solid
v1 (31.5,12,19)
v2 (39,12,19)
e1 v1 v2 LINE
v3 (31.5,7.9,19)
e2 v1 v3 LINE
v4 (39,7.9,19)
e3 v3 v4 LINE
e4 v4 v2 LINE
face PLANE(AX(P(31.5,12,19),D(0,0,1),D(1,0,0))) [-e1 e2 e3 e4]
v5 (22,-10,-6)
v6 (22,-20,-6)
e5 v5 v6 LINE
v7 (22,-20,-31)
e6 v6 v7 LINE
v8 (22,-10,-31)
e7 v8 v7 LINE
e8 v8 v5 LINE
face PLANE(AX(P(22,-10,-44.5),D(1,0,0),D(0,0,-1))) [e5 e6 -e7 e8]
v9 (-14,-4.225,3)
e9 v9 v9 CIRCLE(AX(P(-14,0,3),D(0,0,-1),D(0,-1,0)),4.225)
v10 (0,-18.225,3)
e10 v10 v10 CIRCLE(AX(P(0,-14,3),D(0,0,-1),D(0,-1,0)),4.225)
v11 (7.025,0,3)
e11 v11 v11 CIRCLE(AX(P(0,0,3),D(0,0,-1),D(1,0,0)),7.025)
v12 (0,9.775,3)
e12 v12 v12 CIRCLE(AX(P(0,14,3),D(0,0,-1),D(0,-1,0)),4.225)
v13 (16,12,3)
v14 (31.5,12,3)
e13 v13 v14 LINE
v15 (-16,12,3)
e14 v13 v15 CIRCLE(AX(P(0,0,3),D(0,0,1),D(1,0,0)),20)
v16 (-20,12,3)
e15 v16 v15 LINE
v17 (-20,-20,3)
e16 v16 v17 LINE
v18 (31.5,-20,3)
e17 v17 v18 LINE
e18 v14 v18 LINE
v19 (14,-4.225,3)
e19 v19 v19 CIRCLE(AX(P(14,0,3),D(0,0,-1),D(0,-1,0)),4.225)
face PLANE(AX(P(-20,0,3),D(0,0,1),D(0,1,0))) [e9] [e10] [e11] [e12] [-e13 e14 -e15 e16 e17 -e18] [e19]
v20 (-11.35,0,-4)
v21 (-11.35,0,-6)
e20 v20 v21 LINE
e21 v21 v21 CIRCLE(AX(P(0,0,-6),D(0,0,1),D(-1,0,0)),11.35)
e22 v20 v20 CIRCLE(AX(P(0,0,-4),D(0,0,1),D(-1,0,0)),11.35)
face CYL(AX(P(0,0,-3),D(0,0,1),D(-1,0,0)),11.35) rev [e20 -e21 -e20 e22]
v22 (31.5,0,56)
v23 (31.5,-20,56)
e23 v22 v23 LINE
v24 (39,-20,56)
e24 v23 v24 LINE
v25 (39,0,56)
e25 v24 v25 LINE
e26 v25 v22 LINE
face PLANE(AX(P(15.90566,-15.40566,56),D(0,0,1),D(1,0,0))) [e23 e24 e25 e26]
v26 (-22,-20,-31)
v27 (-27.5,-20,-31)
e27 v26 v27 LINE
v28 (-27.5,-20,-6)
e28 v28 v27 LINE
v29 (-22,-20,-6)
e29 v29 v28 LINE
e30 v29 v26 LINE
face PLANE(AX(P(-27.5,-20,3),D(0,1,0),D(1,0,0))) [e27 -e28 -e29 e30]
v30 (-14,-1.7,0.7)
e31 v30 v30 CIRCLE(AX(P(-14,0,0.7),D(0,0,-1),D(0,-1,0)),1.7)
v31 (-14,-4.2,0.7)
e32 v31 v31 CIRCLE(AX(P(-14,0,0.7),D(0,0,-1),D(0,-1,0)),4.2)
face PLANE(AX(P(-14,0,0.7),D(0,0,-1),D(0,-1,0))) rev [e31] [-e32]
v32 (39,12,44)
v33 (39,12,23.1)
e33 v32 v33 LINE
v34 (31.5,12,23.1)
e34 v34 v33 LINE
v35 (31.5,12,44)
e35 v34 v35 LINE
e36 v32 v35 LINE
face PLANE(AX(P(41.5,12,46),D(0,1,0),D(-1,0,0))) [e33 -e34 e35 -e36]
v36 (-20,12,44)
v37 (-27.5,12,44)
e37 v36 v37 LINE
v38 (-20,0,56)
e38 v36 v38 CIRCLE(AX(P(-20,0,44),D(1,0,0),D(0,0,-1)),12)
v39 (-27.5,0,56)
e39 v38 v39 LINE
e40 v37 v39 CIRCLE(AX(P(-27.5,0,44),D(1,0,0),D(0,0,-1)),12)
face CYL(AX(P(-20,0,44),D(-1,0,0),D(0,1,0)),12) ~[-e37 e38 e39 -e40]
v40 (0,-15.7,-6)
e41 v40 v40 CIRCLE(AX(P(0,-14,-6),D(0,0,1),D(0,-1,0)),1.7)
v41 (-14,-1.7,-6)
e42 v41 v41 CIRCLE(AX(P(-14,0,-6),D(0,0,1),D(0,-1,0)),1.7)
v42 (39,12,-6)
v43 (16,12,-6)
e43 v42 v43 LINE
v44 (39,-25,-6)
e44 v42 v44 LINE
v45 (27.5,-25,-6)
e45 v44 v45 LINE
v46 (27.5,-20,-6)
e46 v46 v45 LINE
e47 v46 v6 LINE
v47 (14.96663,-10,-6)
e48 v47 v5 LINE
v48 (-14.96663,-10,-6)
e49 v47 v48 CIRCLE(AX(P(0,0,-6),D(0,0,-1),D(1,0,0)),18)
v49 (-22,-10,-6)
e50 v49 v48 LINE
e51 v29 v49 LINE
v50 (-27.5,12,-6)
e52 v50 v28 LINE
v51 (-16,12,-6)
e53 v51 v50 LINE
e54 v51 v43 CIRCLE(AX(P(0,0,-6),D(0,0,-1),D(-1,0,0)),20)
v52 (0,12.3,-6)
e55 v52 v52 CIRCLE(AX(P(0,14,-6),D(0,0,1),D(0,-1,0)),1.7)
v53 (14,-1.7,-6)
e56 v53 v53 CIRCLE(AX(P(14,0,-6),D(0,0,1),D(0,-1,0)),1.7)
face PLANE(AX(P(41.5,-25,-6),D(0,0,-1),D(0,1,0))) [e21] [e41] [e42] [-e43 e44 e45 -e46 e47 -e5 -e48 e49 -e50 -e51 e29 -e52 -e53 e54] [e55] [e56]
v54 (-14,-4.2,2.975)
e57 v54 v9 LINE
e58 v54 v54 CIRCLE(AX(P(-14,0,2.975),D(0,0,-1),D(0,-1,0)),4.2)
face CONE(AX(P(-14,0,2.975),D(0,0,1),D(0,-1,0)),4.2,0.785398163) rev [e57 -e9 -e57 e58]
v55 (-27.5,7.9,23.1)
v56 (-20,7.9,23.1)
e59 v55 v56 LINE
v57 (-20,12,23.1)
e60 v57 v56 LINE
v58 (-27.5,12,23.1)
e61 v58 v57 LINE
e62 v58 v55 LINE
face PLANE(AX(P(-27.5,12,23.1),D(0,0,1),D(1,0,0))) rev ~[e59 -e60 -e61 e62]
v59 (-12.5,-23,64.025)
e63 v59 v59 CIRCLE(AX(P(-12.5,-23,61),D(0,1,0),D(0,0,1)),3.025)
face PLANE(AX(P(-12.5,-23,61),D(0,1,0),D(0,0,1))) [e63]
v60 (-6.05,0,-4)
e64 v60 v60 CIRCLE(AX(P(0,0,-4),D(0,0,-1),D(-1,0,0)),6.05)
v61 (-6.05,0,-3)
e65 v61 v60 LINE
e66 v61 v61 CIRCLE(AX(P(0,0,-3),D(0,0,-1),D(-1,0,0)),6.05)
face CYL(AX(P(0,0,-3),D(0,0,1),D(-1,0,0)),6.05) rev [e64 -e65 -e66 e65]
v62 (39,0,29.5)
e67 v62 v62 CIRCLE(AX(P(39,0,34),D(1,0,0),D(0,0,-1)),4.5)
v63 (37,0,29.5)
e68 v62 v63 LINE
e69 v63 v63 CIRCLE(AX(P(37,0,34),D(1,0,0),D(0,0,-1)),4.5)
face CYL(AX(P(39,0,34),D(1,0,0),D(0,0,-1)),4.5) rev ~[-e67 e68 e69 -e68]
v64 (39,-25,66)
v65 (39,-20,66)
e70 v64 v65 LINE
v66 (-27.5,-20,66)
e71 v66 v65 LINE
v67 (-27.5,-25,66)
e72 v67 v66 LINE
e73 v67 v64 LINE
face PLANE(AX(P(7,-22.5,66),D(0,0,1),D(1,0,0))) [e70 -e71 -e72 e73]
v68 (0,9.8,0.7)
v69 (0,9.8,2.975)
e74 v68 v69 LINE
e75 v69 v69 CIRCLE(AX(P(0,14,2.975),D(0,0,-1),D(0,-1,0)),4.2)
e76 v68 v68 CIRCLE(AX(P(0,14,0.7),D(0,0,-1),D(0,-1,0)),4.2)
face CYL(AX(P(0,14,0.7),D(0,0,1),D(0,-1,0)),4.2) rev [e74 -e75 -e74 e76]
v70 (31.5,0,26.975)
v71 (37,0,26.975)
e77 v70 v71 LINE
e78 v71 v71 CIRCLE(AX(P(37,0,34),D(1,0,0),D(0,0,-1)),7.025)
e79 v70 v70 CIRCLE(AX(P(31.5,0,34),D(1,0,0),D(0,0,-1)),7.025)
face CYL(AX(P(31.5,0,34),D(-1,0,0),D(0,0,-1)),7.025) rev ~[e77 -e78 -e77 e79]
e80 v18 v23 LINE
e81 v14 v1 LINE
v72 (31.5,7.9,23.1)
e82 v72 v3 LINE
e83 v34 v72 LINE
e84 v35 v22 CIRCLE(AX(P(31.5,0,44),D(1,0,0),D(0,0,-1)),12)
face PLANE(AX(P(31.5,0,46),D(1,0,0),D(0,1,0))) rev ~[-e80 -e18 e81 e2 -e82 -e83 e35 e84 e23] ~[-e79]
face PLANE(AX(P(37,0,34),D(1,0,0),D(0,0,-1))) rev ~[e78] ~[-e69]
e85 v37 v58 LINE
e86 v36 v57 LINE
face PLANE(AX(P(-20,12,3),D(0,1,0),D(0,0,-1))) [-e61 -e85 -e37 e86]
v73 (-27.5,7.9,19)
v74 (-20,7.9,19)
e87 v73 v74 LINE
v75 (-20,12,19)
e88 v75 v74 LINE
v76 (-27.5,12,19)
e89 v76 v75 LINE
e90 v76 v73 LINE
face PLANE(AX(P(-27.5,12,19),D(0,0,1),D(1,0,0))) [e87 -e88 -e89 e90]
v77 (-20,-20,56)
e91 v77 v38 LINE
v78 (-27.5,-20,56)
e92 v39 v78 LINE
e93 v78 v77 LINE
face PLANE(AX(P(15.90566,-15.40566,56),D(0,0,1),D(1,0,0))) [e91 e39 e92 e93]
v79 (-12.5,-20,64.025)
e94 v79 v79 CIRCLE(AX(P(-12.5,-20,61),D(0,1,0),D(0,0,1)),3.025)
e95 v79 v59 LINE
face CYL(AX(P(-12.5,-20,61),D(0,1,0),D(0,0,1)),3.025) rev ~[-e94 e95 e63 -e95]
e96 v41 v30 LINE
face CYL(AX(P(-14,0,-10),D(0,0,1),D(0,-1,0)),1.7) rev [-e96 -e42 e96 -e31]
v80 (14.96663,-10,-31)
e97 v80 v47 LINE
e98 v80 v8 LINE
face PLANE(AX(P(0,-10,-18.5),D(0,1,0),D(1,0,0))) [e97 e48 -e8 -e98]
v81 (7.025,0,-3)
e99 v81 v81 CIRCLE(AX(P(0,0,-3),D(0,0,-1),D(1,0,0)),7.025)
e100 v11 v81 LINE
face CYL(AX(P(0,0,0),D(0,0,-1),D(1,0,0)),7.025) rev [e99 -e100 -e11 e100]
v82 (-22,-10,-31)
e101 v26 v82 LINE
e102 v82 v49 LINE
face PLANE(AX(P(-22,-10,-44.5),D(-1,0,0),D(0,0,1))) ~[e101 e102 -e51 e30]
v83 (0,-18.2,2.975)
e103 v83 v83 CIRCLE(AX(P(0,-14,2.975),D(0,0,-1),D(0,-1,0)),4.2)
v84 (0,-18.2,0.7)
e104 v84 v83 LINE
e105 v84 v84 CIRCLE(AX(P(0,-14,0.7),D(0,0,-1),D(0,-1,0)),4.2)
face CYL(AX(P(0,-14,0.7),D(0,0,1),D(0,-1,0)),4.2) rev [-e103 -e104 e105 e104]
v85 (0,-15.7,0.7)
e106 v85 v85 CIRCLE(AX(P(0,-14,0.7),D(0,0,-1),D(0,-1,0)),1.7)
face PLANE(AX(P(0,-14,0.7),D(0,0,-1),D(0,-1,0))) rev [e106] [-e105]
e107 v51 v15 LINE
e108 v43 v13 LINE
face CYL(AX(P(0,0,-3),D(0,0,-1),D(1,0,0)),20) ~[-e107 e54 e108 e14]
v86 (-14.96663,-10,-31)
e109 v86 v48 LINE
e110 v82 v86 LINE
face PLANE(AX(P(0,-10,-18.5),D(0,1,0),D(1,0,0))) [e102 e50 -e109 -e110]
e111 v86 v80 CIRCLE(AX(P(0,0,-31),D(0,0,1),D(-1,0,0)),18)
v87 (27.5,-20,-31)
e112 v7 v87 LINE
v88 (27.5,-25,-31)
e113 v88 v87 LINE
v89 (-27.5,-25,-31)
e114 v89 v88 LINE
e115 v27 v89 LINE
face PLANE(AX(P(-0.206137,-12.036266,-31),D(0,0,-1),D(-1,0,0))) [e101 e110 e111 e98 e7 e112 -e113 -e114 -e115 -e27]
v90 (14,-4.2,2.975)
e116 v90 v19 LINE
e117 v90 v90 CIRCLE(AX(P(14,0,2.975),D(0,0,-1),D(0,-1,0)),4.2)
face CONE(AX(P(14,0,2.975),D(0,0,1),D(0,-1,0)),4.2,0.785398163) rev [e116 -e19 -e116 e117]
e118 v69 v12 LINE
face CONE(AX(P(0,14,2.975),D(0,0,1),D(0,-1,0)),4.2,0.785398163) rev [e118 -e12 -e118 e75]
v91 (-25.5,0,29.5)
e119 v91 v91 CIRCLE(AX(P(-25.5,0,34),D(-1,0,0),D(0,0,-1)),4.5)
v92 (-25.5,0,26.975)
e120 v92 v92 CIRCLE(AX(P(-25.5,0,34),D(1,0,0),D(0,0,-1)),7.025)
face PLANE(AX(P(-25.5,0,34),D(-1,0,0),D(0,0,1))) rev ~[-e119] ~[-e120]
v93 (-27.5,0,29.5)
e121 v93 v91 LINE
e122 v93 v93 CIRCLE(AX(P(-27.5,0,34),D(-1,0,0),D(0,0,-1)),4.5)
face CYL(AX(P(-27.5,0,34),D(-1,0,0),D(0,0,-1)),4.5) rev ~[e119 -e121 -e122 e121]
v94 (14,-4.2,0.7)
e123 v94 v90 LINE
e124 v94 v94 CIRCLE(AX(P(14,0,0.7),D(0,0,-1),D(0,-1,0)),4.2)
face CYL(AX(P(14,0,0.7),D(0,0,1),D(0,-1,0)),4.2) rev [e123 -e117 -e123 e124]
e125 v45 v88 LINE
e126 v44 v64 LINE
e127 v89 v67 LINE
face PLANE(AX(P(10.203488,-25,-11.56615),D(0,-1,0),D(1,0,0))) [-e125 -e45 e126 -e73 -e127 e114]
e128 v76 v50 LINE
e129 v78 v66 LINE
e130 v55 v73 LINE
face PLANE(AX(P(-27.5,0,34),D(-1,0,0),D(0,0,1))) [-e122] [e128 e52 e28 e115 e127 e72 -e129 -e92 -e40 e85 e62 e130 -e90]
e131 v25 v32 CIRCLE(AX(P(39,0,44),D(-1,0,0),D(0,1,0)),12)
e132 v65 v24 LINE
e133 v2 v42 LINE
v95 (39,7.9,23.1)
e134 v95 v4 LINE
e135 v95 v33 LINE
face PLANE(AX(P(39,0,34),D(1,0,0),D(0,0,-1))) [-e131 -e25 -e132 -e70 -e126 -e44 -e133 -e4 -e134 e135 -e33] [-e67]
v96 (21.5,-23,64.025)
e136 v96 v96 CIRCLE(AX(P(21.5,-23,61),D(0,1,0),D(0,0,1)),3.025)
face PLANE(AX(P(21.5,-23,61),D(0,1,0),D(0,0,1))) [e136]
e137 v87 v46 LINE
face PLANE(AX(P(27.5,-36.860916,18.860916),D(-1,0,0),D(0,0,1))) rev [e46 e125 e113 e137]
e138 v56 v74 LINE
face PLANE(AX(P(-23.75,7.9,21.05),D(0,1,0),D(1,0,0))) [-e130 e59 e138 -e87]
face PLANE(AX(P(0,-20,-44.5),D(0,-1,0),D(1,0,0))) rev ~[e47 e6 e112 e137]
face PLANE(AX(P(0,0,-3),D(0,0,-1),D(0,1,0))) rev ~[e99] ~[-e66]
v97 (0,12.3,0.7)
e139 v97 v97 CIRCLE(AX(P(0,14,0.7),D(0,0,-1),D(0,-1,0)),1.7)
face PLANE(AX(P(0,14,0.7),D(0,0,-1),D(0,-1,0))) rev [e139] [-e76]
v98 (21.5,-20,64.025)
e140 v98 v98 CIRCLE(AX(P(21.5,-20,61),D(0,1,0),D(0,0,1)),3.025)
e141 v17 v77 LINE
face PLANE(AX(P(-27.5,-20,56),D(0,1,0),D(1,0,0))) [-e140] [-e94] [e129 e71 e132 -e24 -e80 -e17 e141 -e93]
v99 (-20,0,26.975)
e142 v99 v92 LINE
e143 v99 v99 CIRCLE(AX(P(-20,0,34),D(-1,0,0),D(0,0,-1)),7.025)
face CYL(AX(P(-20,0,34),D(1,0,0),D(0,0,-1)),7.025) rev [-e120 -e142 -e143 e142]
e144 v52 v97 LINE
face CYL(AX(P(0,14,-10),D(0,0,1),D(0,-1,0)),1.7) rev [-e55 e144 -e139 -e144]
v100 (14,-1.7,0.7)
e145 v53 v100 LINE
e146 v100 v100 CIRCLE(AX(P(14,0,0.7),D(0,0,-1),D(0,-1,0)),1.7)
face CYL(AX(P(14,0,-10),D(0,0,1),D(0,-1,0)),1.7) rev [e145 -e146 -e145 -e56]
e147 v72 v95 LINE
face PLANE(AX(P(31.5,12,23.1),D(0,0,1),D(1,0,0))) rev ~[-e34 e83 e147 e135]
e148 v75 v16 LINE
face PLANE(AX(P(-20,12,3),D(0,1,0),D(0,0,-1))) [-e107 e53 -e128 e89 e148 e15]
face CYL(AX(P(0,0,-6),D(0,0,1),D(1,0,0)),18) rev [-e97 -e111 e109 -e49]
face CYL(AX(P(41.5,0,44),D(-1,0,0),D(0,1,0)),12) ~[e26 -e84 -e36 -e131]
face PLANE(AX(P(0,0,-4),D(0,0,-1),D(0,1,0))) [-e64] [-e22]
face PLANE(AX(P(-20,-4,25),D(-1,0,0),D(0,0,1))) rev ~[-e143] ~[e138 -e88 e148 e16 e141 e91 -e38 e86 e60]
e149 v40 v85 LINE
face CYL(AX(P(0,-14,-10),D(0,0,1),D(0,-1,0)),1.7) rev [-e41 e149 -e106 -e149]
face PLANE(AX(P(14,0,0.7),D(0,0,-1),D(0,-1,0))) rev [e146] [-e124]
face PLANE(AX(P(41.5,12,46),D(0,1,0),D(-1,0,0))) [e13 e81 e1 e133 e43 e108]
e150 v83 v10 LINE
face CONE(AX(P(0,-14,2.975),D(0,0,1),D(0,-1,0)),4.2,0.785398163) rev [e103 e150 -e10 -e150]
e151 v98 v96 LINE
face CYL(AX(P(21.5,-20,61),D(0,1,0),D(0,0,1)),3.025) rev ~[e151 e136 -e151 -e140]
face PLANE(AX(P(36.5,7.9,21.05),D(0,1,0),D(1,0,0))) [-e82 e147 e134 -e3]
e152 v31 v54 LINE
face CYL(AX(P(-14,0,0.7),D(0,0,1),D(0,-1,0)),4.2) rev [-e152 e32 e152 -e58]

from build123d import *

# Parameters (mm, degrees)
SKETCH1_R                                     = 12
SKETCH1_R_2                                   = 7.025
BOSS_EXTRUDE1_DEPTH                           = 3
BOSS_EXTRUDE1_DEPTH_BACK                      = 3
SKETCH2_R                                     = 12
SKETCH2_R_2                                   = 7.025
BOSS_EXTRUDE2_DEPTH                           = 5
BOSS_EXTRUDE2_DEPTH_BACK                      = 5
BOSS_EXTRUDE3_DEPTH                           = 12
BOSS_EXTRUDE3_DEPTH_BACK                      = 12
SKETCH4_R                                     = 7.025
CUT_EXTRUDE1_DEPTH                            = 61.952850631
SKETCH5_R                                     = 7.025
CUT_EXTRUDE2_DEPTH                            = 65.437954654
SKETCH6_R                                     = 12
SKETCH6_R_2                                   = 6.05
BOSS_EXTRUDE4_DEPTH                           = 1
SKETCH7_R                                     = 11.35
BOSS_EXTRUDE5_DEPTH                           = 3
SKETCH8_R                                     = 20
SKETCH8_R_2                                   = 7.025
BOSS_EXTRUDE7_DEPTH                           = 6
CBORE_FOR_M3_HEX_HEAD_MACHINE_SCREW1_AT_COUNT = 2
CBORE_FOR_M3_HEX_HEAD_MACHINE_SCREW1_AT_PITCH = 19.798989873
CBORE_FOR_M3_HEX_HEAD_MACHINE_SCREW1_2_COUNT  = 2
CBORE_FOR_M3_HEX_HEAD_MACHINE_SCREW1_2_PITCH  = 19.798989873
CBORE_FOR_M3_HEX_HEAD_MACHINE_SCREW1_3_COUNT  = 2
CBORE_FOR_M3_HEX_HEAD_MACHINE_SCREW1_3_PITCH  = 28
BOSS_EXTRUDE8_DEPTH                           = 45
BOSS_EXTRUDE9_DEPTH                           = 35
SKETCH17_W                                    = 55
SKETCH17_H                                    = 83
BOSS_EXTRUDE10_DEPTH                          = 5
SKETCH18_W                                    = 7.5
SKETCH18_H                                    = 83
BOSS_EXTRUDE11_DEPTH                          = 35
SKETCH20_R                                    = 4
CUT_EXTRUDE3_DEPTH                            = 119.410303606
BOSS_EXTRUDE12_DEPTH                          = 13
BOSS_EXTRUDE14_REACH                          = 108.875
SKETCH23_W                                    = 10
SKETCH23_H                                    = 12
SKETCH24_W                                    = 7.5
SKETCH24_H                                    = 35
BOSS_EXTRUDE15_DEPTH                          = 6
SKETCH25_W                                    = 59
SKETCH25_H                                    = 5
BOSS_EXTRUDE16_DEPTH                          = 43
SKETCH26_R                                    = 7.025
BOSS_EXTRUDE17_DEPTH                          = 7.5
BOSS_EXTRUDE18_REACH                          = 123.566
SKETCH27_W                                    = 9
SKETCH27_H                                    = 12
BOSS_EXTRUDE19_DEPTH                          = 7.5
BOSS_EXTRUDE20_DEPTH                          = 2
SKETCH30_W                                    = 5
SKETCH30_H                                    = 10
CUT_EXTRUDE4_DEPTH                            = 116.957966522
LPATTERN2_COUNT                               = 5
LPATTERN2_PITCH                               = 15
BOSS_EXTRUDE25_REACH                          = 127.527
SKETCH35_W                                    = 3
SKETCH35_H                                    = 37
BOSS_EXTRUDE26_DEPTH                          = 10
BOSS_EXTRUDE27_REACH                          = 152.819
SKETCH37_W                                    = 10
SKETCH37_H                                    = 12
FILLET5_R                                     = 12
SKETCH40_W                                    = 69
SKETCH40_H                                    = 5
BOSS_EXTRUDE29_DEPTH                          = 10
SKETCH41_R                                    = 3.025
CUT_EXTRUDE6_DEPTH                            = 3
SKETCH42_W                                    = 7.5
SKETCH42_H                                    = 4.1
SKETCH42_W_2                                  = 10
CUT_EXTRUDE7_DEPTH                            = 4.1
SKETCH43_W                                    = 94.680867801
SKETCH43_H                                    = 163.733831536
CUT_EXTRUDE8_DEPTH                            = 106.561593395
SKETCH44_W                                    = 56.87239016
SKETCH44_H                                    = 32.880699015
CUT_EXTRUDE9_DEPTH                            = 55
SKETCH45_W                                    = 94.431579892
SKETCH45_H                                    = 50.480524865
CUT_EXTRUDE10_DEPTH                           = 2.5
SKETCH46_R                                    = 7.025
SKETCH46_R_2                                  = 4.5
BOSS_EXTRUDE30_DEPTH                          = 2
SKETCH47_R                                    = 7.025
SKETCH47_R_2                                  = 4.5
BOSS_EXTRUDE31_DEPTH                          = 2
SKETCH48_W                                    = 44
SKETCH48_H                                    = 25
CUT_EXTRUDE11_DEPTH                           = 10


with BuildPart() as part:
    # Sketch1 → Boss-Extrude1 (new, two sides)
    with BuildSketch(Plane.XY) as boss_extrude1_sk:
        Circle(SKETCH1_R)
        Circle(SKETCH1_R_2, mode=Mode.SUBTRACT)
    extrude(amount=BOSS_EXTRUDE1_DEPTH)
    extrude(boss_extrude1_sk.sketch, amount=-BOSS_EXTRUDE1_DEPTH_BACK)



with BuildPart() as body_2:
    # Sketch2 → Boss-Extrude2 (new, two sides)
    with BuildSketch(Plane(origin=(36.5, 0, 0), x_dir=(0, 0, -1), z_dir=(1, 0, 0))) as boss_extrude2_sk:
        with Locations((-34, 0)):
            Circle(SKETCH2_R)
        with Locations((-34, 0)):
            Circle(SKETCH2_R_2, mode=Mode.SUBTRACT)
    extrude(amount=BOSS_EXTRUDE2_DEPTH)
    extrude(boss_extrude2_sk.sketch, amount=-BOSS_EXTRUDE2_DEPTH_BACK)


with BuildPart() as part_1:
    add(part.part)

    add(body_2.part)  # Boss-Extrude3 merges body 2
    # Sketch3 → Boss-Extrude3 (add, two sides)
    with BuildSketch(Plane(origin=(0, 0, 0), x_dir=(1, 0, 0), z_dir=(0, 1, 0))) as boss_extrude3_sk:
        Polygon((0, -3), (31.5, -3), (31.5, -34), (41.5, -34), (41.5, 3), (0, 3), align=None)
    extrude(amount=BOSS_EXTRUDE3_DEPTH)
    extrude(boss_extrude3_sk.sketch, amount=-BOSS_EXTRUDE3_DEPTH_BACK)

    # Sketch4 → Cut-Extrude1 (cut, through all)
    with BuildSketch(Plane.XY.offset(3)):
        Circle(SKETCH4_R)
    extrude(amount=-CUT_EXTRUDE1_DEPTH, mode=Mode.SUBTRACT)

    # Sketch5 → Cut-Extrude2 (cut, through all)
    with BuildSketch(Plane.ZY.offset(-31.5)):
        with Locations(Location((34, 0, 0), (0, 0, 180))):
            Circle(SKETCH5_R)
    extrude(amount=-CUT_EXTRUDE2_DEPTH, mode=Mode.SUBTRACT)

    # Sketch6 → Boss-Extrude4 (add)
    with BuildSketch(Plane(origin=(0, 0, -3), x_dir=(-1, 0, 0), z_dir=(0, 0, -1))):
        with Locations(Location((0, 0, 0), (0, 0, 90))):
            Circle(SKETCH6_R)
        Circle(SKETCH6_R_2, mode=Mode.SUBTRACT)
    extrude(amount=BOSS_EXTRUDE4_DEPTH)

    # Sketch7 → Boss-Extrude5 (add)
    with BuildSketch(Plane(origin=(0, 0, -3), x_dir=(-1, 0, 0), z_dir=(0, 0, -1))):
        with BuildLine():
            Line((-20, 0), (-20, -20))
            Line((-20, -20), (20, -20))
            Line((20, -20), (20, 0))
            ThreePointArc((20, 0), (0, 20), (-20, 0))
        make_face()
        Circle(SKETCH7_R, mode=Mode.SUBTRACT)
    extrude(amount=BOSS_EXTRUDE5_DEPTH)

    # Sketch8 → Boss-Extrude7 (add)
    with BuildSketch(Plane.XY.offset(-3)):
        Circle(SKETCH8_R)
        Circle(SKETCH8_R_2, mode=Mode.SUBTRACT)
    extrude(amount=BOSS_EXTRUDE7_DEPTH)

    # Sketch10 → CBORE for M3 Hex Head Machine Screw1 (revolve, cut)
    with BuildSketch(Plane(origin=(-14, 0, 3), x_dir=(0, -1, 0), z_dir=(1, 0, 0))):
        Polygon((0, 0), (0, 14.021463052), (1.7, 13), (1.7, 2.3), (4.2, 2.3), (4.2, 0.025), (4.225, 0), align=None)
    cbore_for_m3_hex_head_machine_screw1 = revolve(axis=Axis((-14, 0, 9.35), (0, 0, -1)), mode=Mode.SUBTRACT)

    # CBORE for M3 Hex Head Machine Screw1 at: CBORE for M3 Hex Head Machine Screw1 ×2
    with Locations(*[Vector(0.7071067811865476, 0.7071067811865476, 0) * (i * CBORE_FOR_M3_HEX_HEAD_MACHINE_SCREW1_AT_PITCH) for i in range(1, CBORE_FOR_M3_HEX_HEAD_MACHINE_SCREW1_AT_COUNT)]):
        add(cbore_for_m3_hex_head_machine_screw1, mode=Mode.SUBTRACT)

    # CBORE for M3 Hex Head Machine Screw1 2: CBORE for M3 Hex Head Machine Screw1 ×2
    with Locations(*[Vector(0.7071067811865476, -0.7071067811865476, 0) * (i * CBORE_FOR_M3_HEX_HEAD_MACHINE_SCREW1_2_PITCH) for i in range(1, CBORE_FOR_M3_HEX_HEAD_MACHINE_SCREW1_2_COUNT)]):
        add(cbore_for_m3_hex_head_machine_screw1, mode=Mode.SUBTRACT)

    # CBORE for M3 Hex Head Machine Screw1 3: CBORE for M3 Hex Head Machine Screw1 ×2
    with Locations(*[(i * CBORE_FOR_M3_HEX_HEAD_MACHINE_SCREW1_3_PITCH, 0, 0) for i in range(1, CBORE_FOR_M3_HEX_HEAD_MACHINE_SCREW1_3_COUNT)]):
        add(cbore_for_m3_hex_head_machine_screw1, mode=Mode.SUBTRACT)

    # Sketch14 → Boss-Extrude8 (add)
    with BuildSketch(Plane(origin=(0, 0, -6), x_dir=(-1, 0, 0), z_dir=(0, 0, -1))):
        with BuildLine():
            Line((-20, 0), (-18, 0))
            ThreePointArc((-18, 0), (0, -18), (18, 0))
            Line((18, 0), (20, 0))
            Line((20, 0), (20, -20))
            Line((20, -20), (-20, -20))
            Line((-20, -20), (-20, 0))
        make_face()
    extrude(amount=BOSS_EXTRUDE8_DEPTH)

    # Sketch16 → Boss-Extrude9 (add)
    with BuildSketch(Plane(origin=(0, 0, -51), x_dir=(-1, 0, 0), z_dir=(0, 0, -1))):
        with BuildLine():
            Line((-18.7, 0), (-20, 0))
            Line((-20, 0), (-20, -20))
            Line((-20, -20), (20, -20))
            Line((20, -20), (20, 0))
            Line((20, 0), (18.7, 0))
            ThreePointArc((18.7, 0), (0, -18.7), (-18.7, 0))
        make_face()
    extrude(amount=BOSS_EXTRUDE9_DEPTH)

    # Sketch17 → Boss-Extrude10 (add)
    with BuildSketch(Plane.XZ.offset(20)):
        with Locations((0, -44.5)):
            Rectangle(SKETCH17_W, SKETCH17_H)
    extrude(amount=BOSS_EXTRUDE10_DEPTH)

    # Sketch18 → Boss-Extrude11 (add)
    with BuildSketch(Plane.XZ.offset(25)):
        with Locations((-23.75, -44.5)):
            Rectangle(SKETCH18_W, SKETCH18_H)
        with Locations((23.75, -44.5)):
            Rectangle(SKETCH18_W, SKETCH18_H)
    extrude(amount=BOSS_EXTRUDE11_DEPTH)

    # Sketch20 → Cut-Extrude3 (cut, through all)
    with BuildSketch(Plane(origin=(27.5, 0, 0), x_dir=(0, 0, -1), z_dir=(1, 0, 0))):
        with Locations((23.75, -45)):
            Circle(SKETCH20_R)
        with Locations((65.25, -45)):
            Circle(SKETCH20_R)
    extrude(amount=-CUT_EXTRUDE3_DEPTH, mode=Mode.SUBTRACT)

    # Sketch21 → Boss-Extrude12 (add)
    with BuildSketch(Plane.XZ.offset(12)):
        Polygon((31.5, 34), (31.5, 46), (41.5, 46), (41.5, 34), (41.5, -3), (20, -3), (16, -3), (16, 3), (31.5, 3), align=None)
    extrude(amount=BOSS_EXTRUDE12_DEPTH)

    # Sketch23 → Boss-Extrude14 (add, up to next)
    with BuildSketch(Plane(origin=(0, -12, 0), x_dir=(1, 0, 0), z_dir=(0, 1, 0)), mode=Mode.PRIVATE) as boss_extrude14_sk1:
        with Locations((36.5, -40)):
            Rectangle(SKETCH23_W, SKETCH23_H)
    boss_extrude14_tool1 = extrude(boss_extrude14_sk1.sketch, amount=BOSS_EXTRUDE14_REACH, mode=Mode.PRIVATE) - part_1.part
    add(boss_extrude14_tool1.solids().sort_by_distance((36.5, -12, 40))[0])

    # Sketch24 → Boss-Extrude15 (add)
    with BuildSketch(Plane.XY.offset(-3)):
        with Locations((23.75, -42.5)):
            Rectangle(SKETCH24_W, SKETCH24_H)
        with BuildLine():
            Line((16, -25), (16, -12))
            ThreePointArc((16, -12), (-6.32455532, -18.973665961), (-20, 0))
            Line((-20, 0), (-20, -20))
            Line((-20, -20), (-27.5, -20))
            Line((-27.5, -20), (-27.5, -60))
            Line((-27.5, -60), (-20, -60))
            Line((-20, -60), (-20, -25))
            Line((-20, -25), (16, -25))
        make_face()
    extrude(amount=BOSS_EXTRUDE15_DEPTH)

    # Sketch25 → Boss-Extrude16 (add)
    with BuildSketch(Plane.XY.offset(3)):
        with Locations((2, -22.5)):
            Rectangle(SKETCH25_W, SKETCH25_H)
    extrude(amount=BOSS_EXTRUDE16_DEPTH)

    # Sketch26 → Boss-Extrude17 (add)
    with BuildSketch(Plane.ZY.offset(20)):
        Polygon((34, 12), (-6, 12), (-6, -20), (46, -20), (56, -20), (56, 12), (46, 12), align=None)
        with Locations(Location((34, 0, 0), (0, 0, 180))):
            Circle(SKETCH26_R, mode=Mode.SUBTRACT)
    extrude(amount=BOSS_EXTRUDE17_DEPTH)

    # Sketch27 → Boss-Extrude18 (add, up to next)
    with BuildSketch(Plane(origin=(-20, 0, 0), x_dir=(0, 0, -1), z_dir=(1, 0, 0)), mode=Mode.PRIVATE) as boss_extrude18_sk1:
        with Locations((1.5, 6)):
            Rectangle(SKETCH27_W, SKETCH27_H)
    boss_extrude18_tool1 = extrude(boss_extrude18_sk1.sketch, amount=BOSS_EXTRUDE18_REACH, mode=Mode.PRIVATE) - part_1.part
    add(boss_extrude18_tool1.solids().sort_by_distance((-20, 6, -1.5))[0])

    # Sketch28 → Boss-Extrude19 (add)
    with BuildSketch(Plane.ZY.offset(27.5)):
        Polygon((46, -25), (3, -60), (3, -25), align=None)
    boss_extrude19 = extrude(amount=-BOSS_EXTRUDE19_DEPTH)

    # Mirror1: Boss-Extrude19 across plane
    add(boss_extrude19.mirror(Plane(origin=(0, 0, 0), x_dir=(0, 0, 1), z_dir=(1, 0, 0))))

    # Sketch29 → Boss-Extrude20 (add)
    with BuildSketch(Plane(origin=(20, 0, 0), x_dir=(0, 0, -1), z_dir=(1, 0, 0))):
        Polygon((3, 0), (3, -20), (86, -20), (86, 0), (6, 0), align=None)
    boss_extrude20 = extrude(amount=BOSS_EXTRUDE20_DEPTH)

    # Mirror2: Boss-Extrude20 across plane
    add(boss_extrude20.mirror(Plane(origin=(0, 0, 0), x_dir=(0, 0, 1), z_dir=(1, 0, 0))))

    # Sketch30 → Cut-Extrude4 (cut, through all)
    with BuildSketch(Plane(origin=(22, 0, 0), x_dir=(0, 0, -1), z_dir=(1, 0, 0))):
        with Locations((18.5, -5)):
            Rectangle(SKETCH30_W, SKETCH30_H)
    cut_extrude4 = extrude(amount=-CUT_EXTRUDE4_DEPTH, mode=Mode.SUBTRACT)

    # LPattern2: Cut-Extrude4 ×5
    with Locations(*[(0, 0, -i * LPATTERN2_PITCH) for i in range(1, LPATTERN2_COUNT)]):
        add(cut_extrude4, mode=Mode.SUBTRACT)

    # Sketch35 → Boss-Extrude25 (add, up to next)
    with BuildSketch(Plane(origin=(41.5, 0, 0), x_dir=(0, 0, -1), z_dir=(1, 0, 0)), mode=Mode.PRIVATE) as boss_extrude25_sk1:
        with Locations((4.5, -6.5)):
            Rectangle(SKETCH35_W, SKETCH35_H)
    boss_extrude25_tool1 = extrude(boss_extrude25_sk1.sketch, amount=-BOSS_EXTRUDE25_REACH, mode=Mode.PRIVATE) - part_1.part
    add(boss_extrude25_tool1.solids().sort_by_distance((41.5, -6.5, -4.5))[0])

    # Sketch36 → Boss-Extrude26 (add)
    with BuildSketch(Plane.XY.offset(46)):
        Polygon((41.5, 12), (31.5, 12), (31.5, -20), (-20, -20), (-27.5, -20), (-27.5, -25), (-20, -25), (20, -25), (27.5, -25), (41.5, -25), align=None)
    extrude(amount=BOSS_EXTRUDE26_DEPTH)

    # Sketch37 → Boss-Extrude27 (add, up to next)
    with BuildSketch(Plane(origin=(0, 0, 46), x_dir=(-1, 0, 0), z_dir=(0, 0, -1)), mode=Mode.PRIVATE) as boss_extrude27_sk1:
        with Locations((-36.5, 6)):
            Rectangle(SKETCH37_W, SKETCH37_H)
    boss_extrude27_tool1 = extrude(boss_extrude27_sk1.sketch, amount=BOSS_EXTRUDE27_REACH, mode=Mode.PRIVATE) - part_1.part
    add(boss_extrude27_tool1.solids().sort_by_distance((36.5, 6, 46))[0])

    # Fillet5
    fillet5_edges = [part_1.edges().sort_by_distance(p)[0] for p in [
        (-23.75, 12, 56),
        (36.5, 12, 56),
    ]]
    fillet(fillet5_edges, radius=FILLET5_R)

    # Sketch40 → Boss-Extrude29 (add)
    with BuildSketch(Plane.XY.offset(56)):
        with Locations((7, -22.5)):
            Rectangle(SKETCH40_W, SKETCH40_H)
    extrude(amount=BOSS_EXTRUDE29_DEPTH)

    # Sketch41 → Cut-Extrude6 (cut)
    with BuildSketch(Plane(origin=(0, -20, 0), x_dir=(1, 0, 0), z_dir=(0, 1, 0))):
        with Locations(Location((-12.5, -61, 0), (0, 0, 270))):
            Circle(SKETCH41_R)
        with Locations(Location((21.5, -61, 0), (0, 0, 270))):
            Circle(SKETCH41_R)
    extrude(amount=-CUT_EXTRUDE6_DEPTH, mode=Mode.SUBTRACT)

    # Sketch42 → Cut-Extrude7 (cut)
    with BuildSketch(Plane(origin=(0, 12, 0), x_dir=(1, 0, 0), z_dir=(0, 1, 0))):
        with Locations((-23.75, -21.05)):
            Rectangle(SKETCH42_W, SKETCH42_H)
        with Locations((36.5, -21.05)):
            Rectangle(SKETCH42_W_2, SKETCH42_H)
    extrude(amount=-CUT_EXTRUDE7_DEPTH, mode=Mode.SUBTRACT)

    # Sketch43 → Cut-Extrude8 (cut, through all)
    with BuildSketch(Plane.XZ.offset(25)):
        with Locations((10.203488009, -11.566149693)):
            Rectangle(SKETCH43_W, SKETCH43_H)
    extrude(amount=CUT_EXTRUDE8_DEPTH, mode=Mode.SUBTRACT)

    # Sketch44 → Cut-Extrude9 (cut)
    with BuildSketch(Plane(origin=(0, 0, -86), x_dir=(-1, 0, 0), z_dir=(0, 0, -1))):
        with Locations((0.206137448, -12.036265724)):
            Rectangle(SKETCH44_W, SKETCH44_H)
    extrude(amount=-CUT_EXTRUDE9_DEPTH, mode=Mode.SUBTRACT)

    # Sketch45 → Cut-Extrude10 (cut)
    with BuildSketch(Plane(origin=(41.5, 0, 0), x_dir=(0, 0, -1), z_dir=(1, 0, 0))):
        with Locations((-28.628182463, -5.975362977)):
            Rectangle(SKETCH45_W, SKETCH45_H)
    extrude(amount=-CUT_EXTRUDE10_DEPTH, mode=Mode.SUBTRACT)

    # Sketch46 → Boss-Extrude30 (add)
    with BuildSketch(Plane(origin=(39, 0, 0), x_dir=(0, 0, -1), z_dir=(1, 0, 0))):
        with Locations((-34, 0)):
            Circle(SKETCH46_R)
        with Locations((-34, 0)):
            Circle(SKETCH46_R_2, mode=Mode.SUBTRACT)
    extrude(amount=-BOSS_EXTRUDE30_DEPTH)

    # Sketch47 → Boss-Extrude31 (add)
    with BuildSketch(Plane.ZY.offset(27.5)):
        with Locations((34, 0)):
            Circle(SKETCH47_R)
        with Locations(Location((34, 0, 0), (0, 0, 180))):
            Circle(SKETCH47_R_2, mode=Mode.SUBTRACT)
    extrude(amount=-BOSS_EXTRUDE31_DEPTH)

    # Sketch48 → Cut-Extrude11 (cut)
    with BuildSketch(Plane(origin=(0, 0, 0), x_dir=(1, 0, 0), z_dir=(0, 1, 0))):
        with Locations((0, 18.5)):
            Rectangle(SKETCH48_W, SKETCH48_H)
    extrude(amount=-CUT_EXTRUDE11_DEPTH, mode=Mode.SUBTRACT)


solid = part_1.part
